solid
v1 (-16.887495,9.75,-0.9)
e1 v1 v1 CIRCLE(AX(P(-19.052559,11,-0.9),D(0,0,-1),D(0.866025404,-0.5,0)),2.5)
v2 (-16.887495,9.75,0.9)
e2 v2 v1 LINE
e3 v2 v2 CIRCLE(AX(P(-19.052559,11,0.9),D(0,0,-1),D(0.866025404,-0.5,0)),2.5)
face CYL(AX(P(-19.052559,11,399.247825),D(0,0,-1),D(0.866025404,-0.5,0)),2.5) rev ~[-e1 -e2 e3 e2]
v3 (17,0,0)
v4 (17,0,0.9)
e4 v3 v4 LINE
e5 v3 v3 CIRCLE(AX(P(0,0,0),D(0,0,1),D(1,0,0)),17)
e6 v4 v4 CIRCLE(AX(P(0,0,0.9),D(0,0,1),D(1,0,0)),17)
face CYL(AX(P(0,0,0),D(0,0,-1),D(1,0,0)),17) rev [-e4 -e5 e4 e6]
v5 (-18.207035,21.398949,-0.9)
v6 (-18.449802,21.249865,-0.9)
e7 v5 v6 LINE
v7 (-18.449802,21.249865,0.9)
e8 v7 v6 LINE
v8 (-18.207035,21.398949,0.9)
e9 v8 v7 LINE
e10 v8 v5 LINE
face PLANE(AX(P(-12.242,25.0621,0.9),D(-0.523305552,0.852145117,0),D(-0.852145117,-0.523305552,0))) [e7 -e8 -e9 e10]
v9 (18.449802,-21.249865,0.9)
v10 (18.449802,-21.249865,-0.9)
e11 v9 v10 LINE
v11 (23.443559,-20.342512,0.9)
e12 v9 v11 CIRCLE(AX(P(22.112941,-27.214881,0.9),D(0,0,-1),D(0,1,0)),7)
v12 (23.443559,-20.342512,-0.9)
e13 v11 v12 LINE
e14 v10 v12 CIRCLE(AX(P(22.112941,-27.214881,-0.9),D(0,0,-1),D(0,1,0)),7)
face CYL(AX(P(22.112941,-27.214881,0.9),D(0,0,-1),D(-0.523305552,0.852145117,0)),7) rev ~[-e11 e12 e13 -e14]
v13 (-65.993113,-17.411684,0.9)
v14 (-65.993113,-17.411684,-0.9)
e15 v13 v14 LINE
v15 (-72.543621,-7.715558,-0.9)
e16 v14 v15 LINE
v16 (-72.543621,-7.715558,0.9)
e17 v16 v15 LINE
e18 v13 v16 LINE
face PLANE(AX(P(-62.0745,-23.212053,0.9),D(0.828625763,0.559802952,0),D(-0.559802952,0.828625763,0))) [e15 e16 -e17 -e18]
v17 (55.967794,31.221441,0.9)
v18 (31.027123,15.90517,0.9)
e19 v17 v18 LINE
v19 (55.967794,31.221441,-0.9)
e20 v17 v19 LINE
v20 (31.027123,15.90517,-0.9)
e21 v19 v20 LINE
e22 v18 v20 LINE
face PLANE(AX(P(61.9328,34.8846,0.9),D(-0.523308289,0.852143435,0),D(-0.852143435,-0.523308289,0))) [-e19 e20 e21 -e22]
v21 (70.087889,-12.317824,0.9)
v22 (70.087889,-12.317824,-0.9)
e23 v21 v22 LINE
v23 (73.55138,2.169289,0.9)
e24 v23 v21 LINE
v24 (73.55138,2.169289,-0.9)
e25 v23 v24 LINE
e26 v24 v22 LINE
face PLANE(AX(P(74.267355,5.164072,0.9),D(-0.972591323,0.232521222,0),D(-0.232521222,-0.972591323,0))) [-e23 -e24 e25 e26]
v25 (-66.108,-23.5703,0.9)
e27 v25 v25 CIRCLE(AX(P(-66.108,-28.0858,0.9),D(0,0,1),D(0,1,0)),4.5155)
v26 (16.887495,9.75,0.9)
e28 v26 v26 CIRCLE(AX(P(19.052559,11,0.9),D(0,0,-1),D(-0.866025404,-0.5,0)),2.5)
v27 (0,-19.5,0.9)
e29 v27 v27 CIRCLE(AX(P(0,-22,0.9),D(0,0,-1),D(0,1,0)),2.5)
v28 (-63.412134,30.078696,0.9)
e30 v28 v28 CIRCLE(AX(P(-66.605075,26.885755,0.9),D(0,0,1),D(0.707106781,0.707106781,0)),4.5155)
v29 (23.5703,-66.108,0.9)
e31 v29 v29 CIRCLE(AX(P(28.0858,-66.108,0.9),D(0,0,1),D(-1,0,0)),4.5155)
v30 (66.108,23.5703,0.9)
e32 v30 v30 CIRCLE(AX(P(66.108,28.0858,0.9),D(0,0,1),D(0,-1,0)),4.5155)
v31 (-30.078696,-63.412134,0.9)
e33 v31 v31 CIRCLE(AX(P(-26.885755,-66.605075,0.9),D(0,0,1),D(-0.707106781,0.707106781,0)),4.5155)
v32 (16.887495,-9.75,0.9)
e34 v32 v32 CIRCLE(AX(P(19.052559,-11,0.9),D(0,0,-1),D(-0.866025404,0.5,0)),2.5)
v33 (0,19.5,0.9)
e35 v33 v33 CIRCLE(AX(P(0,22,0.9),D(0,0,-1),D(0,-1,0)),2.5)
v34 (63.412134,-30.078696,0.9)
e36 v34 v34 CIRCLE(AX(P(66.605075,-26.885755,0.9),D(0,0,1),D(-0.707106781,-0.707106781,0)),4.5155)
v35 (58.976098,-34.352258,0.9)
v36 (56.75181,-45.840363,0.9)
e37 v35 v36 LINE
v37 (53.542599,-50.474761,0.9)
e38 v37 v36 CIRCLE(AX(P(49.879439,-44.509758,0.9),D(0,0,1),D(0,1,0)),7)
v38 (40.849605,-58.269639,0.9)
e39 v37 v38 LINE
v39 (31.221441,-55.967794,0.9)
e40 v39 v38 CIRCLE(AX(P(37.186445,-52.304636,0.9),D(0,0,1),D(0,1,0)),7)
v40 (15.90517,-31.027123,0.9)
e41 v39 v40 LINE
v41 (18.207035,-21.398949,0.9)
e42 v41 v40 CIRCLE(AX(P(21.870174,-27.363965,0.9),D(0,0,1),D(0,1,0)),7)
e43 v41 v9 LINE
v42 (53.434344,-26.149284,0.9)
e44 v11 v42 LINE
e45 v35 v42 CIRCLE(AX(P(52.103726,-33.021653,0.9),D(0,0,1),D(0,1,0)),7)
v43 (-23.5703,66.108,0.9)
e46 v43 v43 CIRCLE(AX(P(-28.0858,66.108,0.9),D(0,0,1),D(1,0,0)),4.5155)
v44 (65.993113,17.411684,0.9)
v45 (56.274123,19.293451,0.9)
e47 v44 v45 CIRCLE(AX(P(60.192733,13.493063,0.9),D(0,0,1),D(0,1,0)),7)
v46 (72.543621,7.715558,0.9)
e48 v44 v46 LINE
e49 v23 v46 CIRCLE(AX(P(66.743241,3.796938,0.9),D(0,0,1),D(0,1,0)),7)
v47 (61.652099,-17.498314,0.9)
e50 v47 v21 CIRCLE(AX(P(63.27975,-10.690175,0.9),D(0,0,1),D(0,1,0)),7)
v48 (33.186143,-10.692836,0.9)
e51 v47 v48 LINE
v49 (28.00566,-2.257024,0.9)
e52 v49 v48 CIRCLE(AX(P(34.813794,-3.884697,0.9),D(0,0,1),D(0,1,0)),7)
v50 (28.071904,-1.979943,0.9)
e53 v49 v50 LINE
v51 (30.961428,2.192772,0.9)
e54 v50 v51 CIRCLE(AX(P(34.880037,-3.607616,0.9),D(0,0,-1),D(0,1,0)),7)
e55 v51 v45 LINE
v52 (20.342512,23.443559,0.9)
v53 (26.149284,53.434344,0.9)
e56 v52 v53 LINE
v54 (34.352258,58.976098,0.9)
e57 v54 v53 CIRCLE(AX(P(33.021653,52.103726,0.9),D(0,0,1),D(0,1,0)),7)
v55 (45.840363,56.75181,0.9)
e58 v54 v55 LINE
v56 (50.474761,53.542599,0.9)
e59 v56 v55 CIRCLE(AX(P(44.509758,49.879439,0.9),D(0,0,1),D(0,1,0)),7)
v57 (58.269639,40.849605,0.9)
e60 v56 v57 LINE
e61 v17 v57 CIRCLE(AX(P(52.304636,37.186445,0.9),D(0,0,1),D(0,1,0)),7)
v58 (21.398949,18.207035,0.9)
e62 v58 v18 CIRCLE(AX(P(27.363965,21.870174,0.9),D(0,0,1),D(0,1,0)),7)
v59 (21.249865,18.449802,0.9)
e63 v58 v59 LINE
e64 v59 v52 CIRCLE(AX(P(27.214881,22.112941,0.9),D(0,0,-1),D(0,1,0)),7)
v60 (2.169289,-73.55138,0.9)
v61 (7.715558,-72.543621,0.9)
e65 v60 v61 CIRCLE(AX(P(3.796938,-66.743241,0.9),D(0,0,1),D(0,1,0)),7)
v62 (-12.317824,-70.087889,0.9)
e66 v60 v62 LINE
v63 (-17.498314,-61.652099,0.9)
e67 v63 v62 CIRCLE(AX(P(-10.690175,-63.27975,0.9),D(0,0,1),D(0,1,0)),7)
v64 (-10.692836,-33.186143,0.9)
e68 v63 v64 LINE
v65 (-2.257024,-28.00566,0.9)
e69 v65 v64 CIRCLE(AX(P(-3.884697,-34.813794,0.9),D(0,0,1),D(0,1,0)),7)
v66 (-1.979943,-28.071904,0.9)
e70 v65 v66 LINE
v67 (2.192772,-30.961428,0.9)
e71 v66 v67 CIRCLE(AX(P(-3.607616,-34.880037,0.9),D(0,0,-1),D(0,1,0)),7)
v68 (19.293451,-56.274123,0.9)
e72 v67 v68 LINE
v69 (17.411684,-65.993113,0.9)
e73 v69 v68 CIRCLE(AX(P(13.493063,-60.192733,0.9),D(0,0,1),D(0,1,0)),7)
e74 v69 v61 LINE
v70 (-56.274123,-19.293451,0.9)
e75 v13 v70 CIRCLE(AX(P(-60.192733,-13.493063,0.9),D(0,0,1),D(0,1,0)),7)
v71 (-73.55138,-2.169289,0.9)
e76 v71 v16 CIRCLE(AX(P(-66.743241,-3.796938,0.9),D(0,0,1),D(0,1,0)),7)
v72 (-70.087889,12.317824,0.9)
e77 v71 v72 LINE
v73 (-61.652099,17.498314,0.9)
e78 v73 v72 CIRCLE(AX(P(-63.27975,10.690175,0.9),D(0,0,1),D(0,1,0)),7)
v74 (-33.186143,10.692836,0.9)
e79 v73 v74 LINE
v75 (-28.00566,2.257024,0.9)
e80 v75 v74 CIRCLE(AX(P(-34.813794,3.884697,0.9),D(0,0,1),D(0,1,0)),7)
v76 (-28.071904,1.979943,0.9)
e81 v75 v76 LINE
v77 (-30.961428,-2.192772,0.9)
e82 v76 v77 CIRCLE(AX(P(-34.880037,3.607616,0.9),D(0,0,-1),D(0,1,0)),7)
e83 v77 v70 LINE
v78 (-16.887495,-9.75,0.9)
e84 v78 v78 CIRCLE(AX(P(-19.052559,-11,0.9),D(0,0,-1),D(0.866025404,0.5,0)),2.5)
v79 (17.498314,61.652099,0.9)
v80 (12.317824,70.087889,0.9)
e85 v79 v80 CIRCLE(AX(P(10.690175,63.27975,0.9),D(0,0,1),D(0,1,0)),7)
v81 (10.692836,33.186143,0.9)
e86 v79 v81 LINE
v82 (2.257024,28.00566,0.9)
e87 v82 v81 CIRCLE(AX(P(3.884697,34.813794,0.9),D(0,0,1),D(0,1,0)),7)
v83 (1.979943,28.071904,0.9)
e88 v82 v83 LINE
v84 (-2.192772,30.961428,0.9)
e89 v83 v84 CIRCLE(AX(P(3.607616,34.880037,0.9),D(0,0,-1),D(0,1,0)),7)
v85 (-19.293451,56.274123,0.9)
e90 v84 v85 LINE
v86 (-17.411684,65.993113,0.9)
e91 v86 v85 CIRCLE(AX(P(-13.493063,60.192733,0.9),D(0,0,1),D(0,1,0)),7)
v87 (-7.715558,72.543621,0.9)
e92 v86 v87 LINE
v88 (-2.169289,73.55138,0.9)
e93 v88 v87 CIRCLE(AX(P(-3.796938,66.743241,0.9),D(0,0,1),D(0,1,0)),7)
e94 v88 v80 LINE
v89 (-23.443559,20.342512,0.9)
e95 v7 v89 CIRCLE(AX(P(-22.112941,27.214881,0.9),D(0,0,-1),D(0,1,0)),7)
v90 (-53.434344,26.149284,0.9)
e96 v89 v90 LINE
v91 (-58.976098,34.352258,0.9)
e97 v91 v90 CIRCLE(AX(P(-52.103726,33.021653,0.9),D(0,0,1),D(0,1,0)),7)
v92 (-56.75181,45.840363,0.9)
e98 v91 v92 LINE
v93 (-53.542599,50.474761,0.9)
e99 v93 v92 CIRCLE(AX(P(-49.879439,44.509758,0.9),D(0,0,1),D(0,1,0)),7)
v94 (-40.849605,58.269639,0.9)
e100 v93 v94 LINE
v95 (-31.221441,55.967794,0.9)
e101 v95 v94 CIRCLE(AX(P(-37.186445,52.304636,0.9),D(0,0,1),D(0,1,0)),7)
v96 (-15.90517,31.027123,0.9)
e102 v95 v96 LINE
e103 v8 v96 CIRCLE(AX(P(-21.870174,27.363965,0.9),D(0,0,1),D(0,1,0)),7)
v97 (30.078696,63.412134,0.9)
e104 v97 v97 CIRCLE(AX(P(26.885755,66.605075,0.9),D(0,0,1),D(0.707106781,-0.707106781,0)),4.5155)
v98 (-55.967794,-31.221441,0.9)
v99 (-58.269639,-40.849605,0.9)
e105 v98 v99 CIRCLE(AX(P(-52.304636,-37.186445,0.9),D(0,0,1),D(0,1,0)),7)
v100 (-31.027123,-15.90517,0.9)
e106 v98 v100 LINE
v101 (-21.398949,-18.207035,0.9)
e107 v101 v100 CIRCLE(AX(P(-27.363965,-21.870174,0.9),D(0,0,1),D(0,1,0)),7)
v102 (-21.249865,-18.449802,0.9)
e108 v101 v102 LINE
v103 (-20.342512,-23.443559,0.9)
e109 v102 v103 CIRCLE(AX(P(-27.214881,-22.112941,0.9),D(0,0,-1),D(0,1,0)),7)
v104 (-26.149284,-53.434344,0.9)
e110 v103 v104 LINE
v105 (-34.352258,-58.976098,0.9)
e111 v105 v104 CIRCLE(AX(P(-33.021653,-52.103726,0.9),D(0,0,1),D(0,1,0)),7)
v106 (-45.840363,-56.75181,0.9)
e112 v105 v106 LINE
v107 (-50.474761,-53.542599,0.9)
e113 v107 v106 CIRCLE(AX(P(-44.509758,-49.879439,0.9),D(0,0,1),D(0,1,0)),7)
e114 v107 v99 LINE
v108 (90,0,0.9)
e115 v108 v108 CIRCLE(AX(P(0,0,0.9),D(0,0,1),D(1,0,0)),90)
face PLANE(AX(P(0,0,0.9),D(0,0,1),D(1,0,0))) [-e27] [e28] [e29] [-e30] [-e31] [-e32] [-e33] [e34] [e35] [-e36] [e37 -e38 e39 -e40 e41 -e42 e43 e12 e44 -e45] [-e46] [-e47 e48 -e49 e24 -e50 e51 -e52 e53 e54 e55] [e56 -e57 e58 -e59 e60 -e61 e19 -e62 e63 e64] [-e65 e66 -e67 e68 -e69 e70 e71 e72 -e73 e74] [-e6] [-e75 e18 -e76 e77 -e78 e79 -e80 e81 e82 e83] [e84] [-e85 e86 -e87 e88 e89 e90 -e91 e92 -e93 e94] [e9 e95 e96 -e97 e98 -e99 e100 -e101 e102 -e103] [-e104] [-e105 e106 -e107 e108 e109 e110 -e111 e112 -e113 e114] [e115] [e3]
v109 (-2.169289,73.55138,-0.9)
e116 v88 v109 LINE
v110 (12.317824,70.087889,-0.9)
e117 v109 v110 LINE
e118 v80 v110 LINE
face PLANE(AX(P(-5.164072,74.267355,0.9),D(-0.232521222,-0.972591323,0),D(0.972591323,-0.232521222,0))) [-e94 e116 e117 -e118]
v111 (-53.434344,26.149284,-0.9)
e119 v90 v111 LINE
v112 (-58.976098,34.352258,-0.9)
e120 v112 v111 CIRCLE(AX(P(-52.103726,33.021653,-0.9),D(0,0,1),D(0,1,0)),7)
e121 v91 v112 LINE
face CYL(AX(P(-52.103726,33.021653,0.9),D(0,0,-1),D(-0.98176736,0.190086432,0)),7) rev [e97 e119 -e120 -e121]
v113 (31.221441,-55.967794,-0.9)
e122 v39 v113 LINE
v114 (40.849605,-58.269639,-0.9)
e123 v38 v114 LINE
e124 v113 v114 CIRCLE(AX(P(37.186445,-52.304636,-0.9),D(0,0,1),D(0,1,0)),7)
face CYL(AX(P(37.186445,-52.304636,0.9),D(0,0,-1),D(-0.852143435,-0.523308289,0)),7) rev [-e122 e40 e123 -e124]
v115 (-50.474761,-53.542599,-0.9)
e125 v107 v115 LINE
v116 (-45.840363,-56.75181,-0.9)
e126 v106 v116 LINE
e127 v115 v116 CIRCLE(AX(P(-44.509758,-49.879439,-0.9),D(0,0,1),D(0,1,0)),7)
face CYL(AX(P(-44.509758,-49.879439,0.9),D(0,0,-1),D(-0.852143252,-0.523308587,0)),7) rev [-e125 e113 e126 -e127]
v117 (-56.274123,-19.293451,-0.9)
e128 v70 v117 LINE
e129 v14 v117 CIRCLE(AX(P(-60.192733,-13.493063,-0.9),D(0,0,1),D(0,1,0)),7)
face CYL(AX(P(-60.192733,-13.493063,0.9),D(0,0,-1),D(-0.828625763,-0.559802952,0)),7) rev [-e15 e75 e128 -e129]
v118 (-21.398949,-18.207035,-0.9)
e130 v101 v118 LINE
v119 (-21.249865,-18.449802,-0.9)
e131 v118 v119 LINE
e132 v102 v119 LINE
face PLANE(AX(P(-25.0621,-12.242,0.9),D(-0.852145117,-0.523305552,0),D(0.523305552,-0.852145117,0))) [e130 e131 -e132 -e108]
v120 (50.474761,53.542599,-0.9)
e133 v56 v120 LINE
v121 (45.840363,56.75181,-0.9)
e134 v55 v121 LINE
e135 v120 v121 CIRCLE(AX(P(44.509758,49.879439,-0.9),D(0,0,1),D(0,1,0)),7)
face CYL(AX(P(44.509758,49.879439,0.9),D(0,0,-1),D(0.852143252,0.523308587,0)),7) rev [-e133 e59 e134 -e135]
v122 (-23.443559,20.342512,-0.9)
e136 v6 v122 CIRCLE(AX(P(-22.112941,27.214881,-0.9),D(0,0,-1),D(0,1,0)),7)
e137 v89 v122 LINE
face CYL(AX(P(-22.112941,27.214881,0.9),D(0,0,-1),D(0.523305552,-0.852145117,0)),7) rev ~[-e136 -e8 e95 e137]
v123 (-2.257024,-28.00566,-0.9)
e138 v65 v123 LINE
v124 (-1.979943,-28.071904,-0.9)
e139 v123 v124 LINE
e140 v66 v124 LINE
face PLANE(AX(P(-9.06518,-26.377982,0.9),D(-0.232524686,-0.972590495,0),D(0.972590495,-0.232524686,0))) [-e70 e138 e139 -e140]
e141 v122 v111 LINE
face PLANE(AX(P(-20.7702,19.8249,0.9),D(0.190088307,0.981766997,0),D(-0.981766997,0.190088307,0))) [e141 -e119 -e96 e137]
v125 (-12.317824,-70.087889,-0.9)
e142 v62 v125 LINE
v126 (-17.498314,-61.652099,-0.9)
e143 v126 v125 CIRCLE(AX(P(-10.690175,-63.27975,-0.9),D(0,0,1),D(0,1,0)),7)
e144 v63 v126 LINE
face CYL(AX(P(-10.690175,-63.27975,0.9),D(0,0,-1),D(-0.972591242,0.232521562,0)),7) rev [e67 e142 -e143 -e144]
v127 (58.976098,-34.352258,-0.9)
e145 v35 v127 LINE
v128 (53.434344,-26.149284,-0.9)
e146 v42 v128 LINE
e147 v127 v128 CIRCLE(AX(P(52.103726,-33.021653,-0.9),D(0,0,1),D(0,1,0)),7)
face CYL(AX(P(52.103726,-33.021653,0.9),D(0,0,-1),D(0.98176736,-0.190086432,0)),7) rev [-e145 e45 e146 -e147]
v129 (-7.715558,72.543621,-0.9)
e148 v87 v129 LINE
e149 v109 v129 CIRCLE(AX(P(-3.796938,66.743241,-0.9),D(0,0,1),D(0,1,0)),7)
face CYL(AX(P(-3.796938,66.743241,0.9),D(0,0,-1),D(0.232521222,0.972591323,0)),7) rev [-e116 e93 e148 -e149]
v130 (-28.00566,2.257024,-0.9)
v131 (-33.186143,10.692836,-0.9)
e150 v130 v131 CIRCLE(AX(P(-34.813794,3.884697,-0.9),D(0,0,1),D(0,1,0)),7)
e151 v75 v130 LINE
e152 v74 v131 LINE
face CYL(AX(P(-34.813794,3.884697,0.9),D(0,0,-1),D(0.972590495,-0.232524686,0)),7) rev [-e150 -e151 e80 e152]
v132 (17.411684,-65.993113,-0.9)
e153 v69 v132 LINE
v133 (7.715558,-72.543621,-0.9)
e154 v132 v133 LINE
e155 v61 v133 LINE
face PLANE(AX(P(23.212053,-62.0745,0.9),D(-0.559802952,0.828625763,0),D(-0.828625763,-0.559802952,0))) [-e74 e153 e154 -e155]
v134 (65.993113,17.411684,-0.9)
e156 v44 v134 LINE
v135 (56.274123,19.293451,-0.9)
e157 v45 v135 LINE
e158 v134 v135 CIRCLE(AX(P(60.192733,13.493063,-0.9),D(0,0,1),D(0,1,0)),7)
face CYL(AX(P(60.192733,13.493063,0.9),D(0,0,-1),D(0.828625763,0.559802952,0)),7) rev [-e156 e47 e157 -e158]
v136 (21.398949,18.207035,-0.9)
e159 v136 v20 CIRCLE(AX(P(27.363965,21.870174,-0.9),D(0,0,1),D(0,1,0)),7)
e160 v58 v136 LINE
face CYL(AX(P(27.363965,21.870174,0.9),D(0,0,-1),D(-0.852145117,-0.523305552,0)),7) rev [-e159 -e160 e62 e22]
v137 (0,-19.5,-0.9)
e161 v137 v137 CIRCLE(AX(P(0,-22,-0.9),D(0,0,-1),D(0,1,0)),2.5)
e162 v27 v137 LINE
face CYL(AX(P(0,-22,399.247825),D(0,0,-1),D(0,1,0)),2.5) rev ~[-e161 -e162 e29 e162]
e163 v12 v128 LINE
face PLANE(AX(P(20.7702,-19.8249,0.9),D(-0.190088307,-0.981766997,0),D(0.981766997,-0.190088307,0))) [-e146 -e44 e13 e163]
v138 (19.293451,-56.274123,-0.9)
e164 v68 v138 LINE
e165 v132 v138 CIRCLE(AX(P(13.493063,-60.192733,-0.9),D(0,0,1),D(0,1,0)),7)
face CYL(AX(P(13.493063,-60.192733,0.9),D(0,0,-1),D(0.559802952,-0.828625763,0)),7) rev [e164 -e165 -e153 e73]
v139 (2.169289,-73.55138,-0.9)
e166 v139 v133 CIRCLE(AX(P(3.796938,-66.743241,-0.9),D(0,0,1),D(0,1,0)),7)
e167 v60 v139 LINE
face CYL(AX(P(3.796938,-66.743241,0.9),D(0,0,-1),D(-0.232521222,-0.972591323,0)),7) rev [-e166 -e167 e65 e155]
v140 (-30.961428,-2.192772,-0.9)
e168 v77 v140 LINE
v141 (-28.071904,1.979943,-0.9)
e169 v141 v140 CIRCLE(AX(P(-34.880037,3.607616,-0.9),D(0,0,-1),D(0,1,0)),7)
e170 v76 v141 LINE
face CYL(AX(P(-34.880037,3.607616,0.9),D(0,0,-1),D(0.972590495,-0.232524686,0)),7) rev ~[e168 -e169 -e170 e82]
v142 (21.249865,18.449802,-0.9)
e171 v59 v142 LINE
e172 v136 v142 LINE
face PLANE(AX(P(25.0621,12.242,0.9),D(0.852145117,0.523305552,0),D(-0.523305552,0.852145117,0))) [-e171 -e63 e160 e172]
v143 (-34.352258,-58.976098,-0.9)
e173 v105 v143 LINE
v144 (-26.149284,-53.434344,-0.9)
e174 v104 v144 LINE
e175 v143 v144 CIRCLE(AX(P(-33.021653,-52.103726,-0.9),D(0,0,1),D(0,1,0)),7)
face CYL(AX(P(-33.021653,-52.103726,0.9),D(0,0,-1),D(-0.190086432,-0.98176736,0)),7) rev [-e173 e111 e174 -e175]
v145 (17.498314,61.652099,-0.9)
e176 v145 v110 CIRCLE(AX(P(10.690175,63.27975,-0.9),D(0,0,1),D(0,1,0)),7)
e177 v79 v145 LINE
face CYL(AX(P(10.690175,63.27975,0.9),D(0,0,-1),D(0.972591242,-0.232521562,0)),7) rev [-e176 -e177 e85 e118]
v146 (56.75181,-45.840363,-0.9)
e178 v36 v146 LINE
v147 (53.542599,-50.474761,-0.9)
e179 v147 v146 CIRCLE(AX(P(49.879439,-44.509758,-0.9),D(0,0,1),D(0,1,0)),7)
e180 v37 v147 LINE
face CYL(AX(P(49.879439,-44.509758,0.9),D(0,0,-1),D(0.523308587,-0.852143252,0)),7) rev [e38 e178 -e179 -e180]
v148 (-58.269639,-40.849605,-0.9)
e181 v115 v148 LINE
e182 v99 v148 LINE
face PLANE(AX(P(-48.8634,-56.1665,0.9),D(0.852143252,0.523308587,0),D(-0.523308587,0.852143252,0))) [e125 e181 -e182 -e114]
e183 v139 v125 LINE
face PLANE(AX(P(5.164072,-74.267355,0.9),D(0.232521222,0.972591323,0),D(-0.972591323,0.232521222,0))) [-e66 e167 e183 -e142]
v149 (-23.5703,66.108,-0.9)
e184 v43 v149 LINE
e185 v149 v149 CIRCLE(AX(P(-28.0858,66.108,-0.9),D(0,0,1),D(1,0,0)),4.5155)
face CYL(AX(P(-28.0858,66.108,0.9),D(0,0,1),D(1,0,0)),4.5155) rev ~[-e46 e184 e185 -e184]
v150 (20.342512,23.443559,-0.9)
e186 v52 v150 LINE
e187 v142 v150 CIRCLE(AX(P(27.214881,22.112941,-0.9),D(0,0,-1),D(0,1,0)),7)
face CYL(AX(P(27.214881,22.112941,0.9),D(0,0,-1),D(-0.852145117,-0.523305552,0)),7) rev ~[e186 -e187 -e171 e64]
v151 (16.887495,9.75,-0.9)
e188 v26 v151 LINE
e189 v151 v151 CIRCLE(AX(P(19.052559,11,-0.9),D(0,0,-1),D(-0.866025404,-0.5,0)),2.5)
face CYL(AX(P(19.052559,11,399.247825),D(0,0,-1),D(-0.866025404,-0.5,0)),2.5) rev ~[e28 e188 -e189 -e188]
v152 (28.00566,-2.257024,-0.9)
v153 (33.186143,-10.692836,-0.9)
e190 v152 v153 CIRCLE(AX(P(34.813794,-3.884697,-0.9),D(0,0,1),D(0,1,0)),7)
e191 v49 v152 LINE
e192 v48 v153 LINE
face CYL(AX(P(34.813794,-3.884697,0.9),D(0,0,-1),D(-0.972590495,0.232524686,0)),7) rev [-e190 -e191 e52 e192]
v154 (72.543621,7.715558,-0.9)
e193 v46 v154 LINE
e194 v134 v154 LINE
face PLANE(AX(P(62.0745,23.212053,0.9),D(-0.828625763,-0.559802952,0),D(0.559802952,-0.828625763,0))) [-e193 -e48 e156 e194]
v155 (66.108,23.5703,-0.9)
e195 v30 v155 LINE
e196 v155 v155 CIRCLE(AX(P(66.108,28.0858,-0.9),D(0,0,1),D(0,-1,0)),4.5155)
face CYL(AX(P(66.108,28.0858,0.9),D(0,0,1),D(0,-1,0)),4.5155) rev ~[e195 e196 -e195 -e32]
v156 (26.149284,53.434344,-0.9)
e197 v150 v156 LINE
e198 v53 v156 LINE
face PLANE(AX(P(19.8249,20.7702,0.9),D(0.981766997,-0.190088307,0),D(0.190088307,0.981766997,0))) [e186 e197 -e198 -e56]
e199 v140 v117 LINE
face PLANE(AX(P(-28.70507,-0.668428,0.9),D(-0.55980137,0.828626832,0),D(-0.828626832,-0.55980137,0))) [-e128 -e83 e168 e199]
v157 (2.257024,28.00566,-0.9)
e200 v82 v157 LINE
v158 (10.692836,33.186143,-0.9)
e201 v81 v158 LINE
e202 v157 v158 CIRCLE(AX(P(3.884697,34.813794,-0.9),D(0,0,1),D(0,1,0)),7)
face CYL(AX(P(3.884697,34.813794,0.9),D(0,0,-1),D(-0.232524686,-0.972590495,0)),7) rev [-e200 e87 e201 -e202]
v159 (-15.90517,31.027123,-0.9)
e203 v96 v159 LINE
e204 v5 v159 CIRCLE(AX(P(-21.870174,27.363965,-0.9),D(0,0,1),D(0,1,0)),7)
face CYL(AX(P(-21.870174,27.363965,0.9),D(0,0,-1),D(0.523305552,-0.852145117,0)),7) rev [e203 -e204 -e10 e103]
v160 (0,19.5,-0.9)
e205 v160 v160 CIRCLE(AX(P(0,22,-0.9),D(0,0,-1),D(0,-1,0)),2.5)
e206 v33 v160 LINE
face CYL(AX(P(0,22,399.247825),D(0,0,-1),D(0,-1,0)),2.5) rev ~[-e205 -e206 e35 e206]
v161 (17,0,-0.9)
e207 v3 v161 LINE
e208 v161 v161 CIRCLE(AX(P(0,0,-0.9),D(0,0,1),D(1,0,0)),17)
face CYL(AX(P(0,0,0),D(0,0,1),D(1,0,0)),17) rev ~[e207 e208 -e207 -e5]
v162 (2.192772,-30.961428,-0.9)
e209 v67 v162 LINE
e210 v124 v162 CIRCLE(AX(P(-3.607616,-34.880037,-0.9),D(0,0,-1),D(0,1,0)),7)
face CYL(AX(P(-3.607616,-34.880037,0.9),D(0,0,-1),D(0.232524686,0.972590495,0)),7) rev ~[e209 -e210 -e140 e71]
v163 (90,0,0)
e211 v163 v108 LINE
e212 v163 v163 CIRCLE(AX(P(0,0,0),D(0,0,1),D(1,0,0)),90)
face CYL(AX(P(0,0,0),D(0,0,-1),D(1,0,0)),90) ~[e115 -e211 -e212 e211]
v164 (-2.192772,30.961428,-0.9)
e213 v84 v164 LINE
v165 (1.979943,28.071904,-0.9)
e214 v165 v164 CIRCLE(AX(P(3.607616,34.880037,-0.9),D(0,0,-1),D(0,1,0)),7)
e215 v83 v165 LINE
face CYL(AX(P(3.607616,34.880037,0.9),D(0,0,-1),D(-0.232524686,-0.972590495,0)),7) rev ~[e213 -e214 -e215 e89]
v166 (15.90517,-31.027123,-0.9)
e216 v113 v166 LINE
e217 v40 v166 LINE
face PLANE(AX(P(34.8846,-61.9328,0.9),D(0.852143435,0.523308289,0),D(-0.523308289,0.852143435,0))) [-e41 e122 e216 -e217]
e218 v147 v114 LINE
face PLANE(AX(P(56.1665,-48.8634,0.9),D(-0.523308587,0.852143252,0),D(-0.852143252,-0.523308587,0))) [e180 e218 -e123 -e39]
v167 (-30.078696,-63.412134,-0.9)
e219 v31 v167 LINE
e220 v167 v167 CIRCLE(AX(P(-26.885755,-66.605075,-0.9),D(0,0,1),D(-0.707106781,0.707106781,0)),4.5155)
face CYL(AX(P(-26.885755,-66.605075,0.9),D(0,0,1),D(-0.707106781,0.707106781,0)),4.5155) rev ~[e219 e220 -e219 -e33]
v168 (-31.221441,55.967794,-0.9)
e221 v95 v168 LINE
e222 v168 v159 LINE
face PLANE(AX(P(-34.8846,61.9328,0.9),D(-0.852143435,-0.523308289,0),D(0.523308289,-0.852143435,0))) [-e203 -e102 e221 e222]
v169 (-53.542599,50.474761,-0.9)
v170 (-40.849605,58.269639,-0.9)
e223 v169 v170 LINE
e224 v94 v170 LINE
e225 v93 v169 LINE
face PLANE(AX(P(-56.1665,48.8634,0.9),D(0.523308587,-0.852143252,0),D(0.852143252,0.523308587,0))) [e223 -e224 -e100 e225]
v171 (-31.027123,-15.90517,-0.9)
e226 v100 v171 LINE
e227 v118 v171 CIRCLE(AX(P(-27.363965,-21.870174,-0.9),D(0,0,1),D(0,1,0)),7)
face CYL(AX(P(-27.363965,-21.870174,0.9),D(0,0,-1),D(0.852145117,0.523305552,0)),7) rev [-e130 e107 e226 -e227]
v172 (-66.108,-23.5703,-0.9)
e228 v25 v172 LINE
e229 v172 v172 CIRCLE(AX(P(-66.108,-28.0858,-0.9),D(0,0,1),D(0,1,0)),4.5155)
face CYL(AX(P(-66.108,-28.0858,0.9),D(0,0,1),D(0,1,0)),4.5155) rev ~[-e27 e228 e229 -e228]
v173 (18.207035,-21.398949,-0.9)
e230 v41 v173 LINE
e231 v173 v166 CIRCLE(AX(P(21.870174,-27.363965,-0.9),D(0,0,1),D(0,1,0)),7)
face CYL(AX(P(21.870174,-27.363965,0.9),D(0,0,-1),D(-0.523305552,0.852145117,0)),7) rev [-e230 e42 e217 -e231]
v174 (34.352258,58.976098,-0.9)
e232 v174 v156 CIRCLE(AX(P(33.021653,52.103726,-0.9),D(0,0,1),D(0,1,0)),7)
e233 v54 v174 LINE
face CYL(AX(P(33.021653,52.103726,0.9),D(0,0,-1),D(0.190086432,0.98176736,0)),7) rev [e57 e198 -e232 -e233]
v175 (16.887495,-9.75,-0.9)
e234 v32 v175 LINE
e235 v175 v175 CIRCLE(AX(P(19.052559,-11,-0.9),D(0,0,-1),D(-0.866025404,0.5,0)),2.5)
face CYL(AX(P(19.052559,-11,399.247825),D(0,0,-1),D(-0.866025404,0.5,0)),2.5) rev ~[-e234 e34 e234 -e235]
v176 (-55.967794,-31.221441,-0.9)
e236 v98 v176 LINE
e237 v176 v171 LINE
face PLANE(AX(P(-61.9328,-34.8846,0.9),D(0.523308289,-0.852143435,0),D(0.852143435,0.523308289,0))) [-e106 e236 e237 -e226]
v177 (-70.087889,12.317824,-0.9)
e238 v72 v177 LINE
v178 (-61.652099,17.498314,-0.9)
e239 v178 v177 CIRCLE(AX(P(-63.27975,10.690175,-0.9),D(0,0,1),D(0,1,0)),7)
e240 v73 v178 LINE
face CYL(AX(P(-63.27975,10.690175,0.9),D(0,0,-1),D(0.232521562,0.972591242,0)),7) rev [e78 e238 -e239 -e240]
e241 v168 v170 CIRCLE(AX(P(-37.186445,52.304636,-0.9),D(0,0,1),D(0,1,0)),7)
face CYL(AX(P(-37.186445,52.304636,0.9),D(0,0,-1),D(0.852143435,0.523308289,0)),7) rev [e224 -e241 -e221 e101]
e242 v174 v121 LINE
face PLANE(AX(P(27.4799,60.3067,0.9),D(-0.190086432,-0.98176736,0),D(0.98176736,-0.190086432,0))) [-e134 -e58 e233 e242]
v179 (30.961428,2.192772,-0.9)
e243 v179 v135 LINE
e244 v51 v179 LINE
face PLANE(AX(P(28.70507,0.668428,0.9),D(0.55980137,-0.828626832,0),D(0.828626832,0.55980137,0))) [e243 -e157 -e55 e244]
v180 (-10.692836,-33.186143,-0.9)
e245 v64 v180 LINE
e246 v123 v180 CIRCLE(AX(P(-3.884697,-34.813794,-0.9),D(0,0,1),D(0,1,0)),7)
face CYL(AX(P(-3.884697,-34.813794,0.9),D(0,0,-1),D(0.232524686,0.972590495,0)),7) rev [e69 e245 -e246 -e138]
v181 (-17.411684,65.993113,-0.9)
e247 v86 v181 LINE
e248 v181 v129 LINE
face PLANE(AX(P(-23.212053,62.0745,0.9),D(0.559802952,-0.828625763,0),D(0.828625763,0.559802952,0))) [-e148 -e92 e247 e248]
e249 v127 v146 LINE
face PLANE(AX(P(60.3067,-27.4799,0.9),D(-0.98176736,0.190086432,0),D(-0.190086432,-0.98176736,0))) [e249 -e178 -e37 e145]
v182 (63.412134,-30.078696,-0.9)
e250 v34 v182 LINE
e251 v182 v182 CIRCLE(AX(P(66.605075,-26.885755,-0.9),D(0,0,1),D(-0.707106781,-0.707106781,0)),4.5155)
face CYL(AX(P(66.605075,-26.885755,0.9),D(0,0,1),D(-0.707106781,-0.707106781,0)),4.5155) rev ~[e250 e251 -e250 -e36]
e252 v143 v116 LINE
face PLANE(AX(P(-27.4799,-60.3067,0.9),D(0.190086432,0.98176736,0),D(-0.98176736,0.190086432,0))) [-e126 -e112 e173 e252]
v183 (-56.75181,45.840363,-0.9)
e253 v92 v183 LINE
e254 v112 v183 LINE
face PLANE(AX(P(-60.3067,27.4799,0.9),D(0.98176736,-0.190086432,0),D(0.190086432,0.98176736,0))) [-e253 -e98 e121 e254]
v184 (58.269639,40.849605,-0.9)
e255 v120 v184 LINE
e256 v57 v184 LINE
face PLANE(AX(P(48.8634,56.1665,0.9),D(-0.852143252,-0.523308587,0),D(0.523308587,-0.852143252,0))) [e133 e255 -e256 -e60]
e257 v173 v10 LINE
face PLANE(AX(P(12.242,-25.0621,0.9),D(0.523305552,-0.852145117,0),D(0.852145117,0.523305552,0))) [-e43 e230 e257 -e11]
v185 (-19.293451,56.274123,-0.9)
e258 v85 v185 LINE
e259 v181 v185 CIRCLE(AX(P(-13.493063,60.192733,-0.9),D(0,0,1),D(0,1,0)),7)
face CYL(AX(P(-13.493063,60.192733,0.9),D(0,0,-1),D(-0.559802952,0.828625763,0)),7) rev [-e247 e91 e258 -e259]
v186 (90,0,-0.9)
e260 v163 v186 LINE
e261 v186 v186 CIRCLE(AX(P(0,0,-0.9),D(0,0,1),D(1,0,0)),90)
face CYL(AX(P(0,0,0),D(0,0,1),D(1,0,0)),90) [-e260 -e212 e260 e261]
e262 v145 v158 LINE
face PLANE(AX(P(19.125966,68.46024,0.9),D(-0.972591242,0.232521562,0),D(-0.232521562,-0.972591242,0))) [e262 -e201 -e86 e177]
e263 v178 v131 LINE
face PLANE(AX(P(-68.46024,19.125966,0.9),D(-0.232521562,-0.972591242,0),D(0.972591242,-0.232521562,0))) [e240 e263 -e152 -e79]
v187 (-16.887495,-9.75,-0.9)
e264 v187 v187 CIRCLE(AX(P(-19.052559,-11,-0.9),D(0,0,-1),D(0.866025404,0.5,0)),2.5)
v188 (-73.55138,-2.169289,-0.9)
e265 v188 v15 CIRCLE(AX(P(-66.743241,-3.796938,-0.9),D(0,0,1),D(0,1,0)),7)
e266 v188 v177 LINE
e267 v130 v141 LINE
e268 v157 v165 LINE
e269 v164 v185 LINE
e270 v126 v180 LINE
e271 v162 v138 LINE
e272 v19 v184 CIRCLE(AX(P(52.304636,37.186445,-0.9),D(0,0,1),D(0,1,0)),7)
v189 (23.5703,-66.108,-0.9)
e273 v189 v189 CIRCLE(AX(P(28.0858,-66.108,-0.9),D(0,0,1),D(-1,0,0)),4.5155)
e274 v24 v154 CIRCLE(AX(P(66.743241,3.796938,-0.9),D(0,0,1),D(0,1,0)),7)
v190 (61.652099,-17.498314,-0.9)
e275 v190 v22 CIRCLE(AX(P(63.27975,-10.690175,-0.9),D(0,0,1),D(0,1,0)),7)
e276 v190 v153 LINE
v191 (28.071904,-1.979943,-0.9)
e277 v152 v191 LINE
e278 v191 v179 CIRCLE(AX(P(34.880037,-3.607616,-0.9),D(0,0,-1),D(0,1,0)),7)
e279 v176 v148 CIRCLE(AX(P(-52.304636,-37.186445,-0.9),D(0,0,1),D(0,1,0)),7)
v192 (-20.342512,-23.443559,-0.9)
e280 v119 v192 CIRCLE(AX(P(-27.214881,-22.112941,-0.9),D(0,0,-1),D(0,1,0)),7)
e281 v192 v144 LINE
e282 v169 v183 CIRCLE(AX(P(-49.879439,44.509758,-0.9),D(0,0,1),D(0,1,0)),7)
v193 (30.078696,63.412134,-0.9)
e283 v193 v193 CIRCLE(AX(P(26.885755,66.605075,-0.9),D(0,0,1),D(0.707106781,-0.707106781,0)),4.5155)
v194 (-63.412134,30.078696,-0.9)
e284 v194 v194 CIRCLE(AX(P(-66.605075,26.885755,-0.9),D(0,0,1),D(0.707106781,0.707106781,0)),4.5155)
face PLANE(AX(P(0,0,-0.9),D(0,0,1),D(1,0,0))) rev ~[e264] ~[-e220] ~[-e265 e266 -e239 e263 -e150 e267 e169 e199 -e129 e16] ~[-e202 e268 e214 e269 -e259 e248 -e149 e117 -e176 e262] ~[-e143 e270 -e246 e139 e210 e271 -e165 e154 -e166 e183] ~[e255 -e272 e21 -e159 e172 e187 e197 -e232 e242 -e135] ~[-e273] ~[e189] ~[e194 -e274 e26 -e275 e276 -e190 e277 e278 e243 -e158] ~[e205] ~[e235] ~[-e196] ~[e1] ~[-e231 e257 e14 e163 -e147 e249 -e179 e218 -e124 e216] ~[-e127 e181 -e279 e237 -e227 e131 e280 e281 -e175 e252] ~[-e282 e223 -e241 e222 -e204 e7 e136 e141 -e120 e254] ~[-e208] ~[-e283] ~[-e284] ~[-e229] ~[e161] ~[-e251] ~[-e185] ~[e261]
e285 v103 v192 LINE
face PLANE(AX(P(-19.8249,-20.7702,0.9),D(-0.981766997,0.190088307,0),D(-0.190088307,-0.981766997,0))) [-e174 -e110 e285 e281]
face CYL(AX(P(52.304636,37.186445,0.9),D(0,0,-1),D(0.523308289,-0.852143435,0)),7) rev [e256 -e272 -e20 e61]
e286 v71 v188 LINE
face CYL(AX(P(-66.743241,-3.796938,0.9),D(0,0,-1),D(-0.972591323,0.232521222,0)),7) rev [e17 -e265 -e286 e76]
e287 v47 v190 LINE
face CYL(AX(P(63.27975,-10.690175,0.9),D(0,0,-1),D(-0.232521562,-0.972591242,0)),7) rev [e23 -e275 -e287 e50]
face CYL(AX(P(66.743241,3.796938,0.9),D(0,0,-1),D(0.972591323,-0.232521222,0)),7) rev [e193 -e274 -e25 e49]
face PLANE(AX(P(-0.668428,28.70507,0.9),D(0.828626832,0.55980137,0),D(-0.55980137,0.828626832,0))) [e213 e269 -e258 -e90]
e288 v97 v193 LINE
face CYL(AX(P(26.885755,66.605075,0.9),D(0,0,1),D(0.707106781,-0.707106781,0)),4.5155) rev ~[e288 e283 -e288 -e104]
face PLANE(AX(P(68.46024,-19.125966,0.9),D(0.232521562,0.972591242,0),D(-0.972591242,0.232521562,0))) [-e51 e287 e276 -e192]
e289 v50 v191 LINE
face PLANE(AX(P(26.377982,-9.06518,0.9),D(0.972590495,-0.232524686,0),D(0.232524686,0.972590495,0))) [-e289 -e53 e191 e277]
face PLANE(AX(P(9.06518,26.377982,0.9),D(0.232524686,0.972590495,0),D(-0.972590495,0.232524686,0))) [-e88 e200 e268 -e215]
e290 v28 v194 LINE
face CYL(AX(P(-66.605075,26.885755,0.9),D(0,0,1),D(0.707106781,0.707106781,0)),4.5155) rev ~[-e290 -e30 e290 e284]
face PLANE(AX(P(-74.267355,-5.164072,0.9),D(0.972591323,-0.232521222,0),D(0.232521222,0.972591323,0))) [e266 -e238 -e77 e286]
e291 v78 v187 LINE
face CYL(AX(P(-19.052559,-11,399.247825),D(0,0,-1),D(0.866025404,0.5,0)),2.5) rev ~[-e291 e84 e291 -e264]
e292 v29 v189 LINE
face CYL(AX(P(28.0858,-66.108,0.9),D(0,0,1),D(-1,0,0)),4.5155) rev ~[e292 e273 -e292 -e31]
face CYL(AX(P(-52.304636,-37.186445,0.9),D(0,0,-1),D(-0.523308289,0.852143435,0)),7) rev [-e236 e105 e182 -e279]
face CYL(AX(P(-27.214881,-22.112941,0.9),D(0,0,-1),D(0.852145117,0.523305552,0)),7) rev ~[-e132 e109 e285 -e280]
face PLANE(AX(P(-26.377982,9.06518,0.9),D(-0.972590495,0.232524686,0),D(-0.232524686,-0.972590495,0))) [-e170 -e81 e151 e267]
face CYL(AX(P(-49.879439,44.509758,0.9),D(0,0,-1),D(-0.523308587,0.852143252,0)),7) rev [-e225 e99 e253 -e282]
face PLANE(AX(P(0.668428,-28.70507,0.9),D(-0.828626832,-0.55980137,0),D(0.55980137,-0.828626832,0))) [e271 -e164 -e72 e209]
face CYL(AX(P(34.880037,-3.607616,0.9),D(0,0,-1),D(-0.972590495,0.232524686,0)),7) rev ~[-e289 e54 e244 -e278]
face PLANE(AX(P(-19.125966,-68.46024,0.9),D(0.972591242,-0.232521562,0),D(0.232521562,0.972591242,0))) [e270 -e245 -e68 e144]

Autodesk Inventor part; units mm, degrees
ref_plane "YZ Plane" through (0, 0, 0) normal (1, 0, 0) x (0, 1, 0)
ref_plane "XZ Plane" through (0, 0, 0) normal (0, 1, 0) x (-1, 0, 0)
ref_plane "XY Plane" through (0, 0, 0) normal (0, 0, 1) x (1, 0, 0)
sketch "Sketch1" plane through (0, 0, 0) normal (0, 0, 1) x (1, 0, 0)
  circle A0 centre (0, 0) radius 90
  circle A1 centre (0, 0) radius 17
  point P0 (0, 22)
  dimension "d0" = 180
  dimension "d1" = 34
  dimension "d4" = 22
extrude "Extrusion1" add sketch "Sketch1" along normal mid plane 1.8
hole "Hole1" at (0, 22, 0) direction (0, 0, -1) diameter 5 end through all both
pattern_circular "Circular Pattern1" count 6 over 360 about axis through (0, 0, -10) along (0, 0, 1) of "Hole1"
sketch "Sketch2" plane through (0, 0, 0.9) normal (0, 0, 1) x (1, 0, 0)
  line L0 (-20.7702, 19.8249) -> (-60.3067, 27.4799)
  line L1 (-60.3067, 27.4799) -> (-56.1665, 48.8634)
  line L2 (-56.1665, 48.8634) -> (-34.8846, 61.9328)
  line L3 (-34.8846, 61.9328) -> (-12.242, 25.0621)
  line L4 (-12.242, 25.0621) -> (-20.7702, 19.8249)
  circle A0 centre (-28.0858, 66.108) radius 4.5155
  point P0 (0, 0)
extrude "Extrusion2" cut sketch "Sketch2" against normal blind 10
fillet "Fillet1" radius 7 5 edges at (-60.3067, 27.4799, 0) (-56.1665, 48.8634, 0) (-34.8846, 61.9328, 0) (-12.242, 25.0621, 0) (-20.7702, 19.8249, 0)
pattern_circular "Circular Pattern2" count 8 over 360 about axis through (0, 0, -10) along (0, 0, 1) of "Extrusion2", "Fillet1"
properties part number "DiskBrake180"
